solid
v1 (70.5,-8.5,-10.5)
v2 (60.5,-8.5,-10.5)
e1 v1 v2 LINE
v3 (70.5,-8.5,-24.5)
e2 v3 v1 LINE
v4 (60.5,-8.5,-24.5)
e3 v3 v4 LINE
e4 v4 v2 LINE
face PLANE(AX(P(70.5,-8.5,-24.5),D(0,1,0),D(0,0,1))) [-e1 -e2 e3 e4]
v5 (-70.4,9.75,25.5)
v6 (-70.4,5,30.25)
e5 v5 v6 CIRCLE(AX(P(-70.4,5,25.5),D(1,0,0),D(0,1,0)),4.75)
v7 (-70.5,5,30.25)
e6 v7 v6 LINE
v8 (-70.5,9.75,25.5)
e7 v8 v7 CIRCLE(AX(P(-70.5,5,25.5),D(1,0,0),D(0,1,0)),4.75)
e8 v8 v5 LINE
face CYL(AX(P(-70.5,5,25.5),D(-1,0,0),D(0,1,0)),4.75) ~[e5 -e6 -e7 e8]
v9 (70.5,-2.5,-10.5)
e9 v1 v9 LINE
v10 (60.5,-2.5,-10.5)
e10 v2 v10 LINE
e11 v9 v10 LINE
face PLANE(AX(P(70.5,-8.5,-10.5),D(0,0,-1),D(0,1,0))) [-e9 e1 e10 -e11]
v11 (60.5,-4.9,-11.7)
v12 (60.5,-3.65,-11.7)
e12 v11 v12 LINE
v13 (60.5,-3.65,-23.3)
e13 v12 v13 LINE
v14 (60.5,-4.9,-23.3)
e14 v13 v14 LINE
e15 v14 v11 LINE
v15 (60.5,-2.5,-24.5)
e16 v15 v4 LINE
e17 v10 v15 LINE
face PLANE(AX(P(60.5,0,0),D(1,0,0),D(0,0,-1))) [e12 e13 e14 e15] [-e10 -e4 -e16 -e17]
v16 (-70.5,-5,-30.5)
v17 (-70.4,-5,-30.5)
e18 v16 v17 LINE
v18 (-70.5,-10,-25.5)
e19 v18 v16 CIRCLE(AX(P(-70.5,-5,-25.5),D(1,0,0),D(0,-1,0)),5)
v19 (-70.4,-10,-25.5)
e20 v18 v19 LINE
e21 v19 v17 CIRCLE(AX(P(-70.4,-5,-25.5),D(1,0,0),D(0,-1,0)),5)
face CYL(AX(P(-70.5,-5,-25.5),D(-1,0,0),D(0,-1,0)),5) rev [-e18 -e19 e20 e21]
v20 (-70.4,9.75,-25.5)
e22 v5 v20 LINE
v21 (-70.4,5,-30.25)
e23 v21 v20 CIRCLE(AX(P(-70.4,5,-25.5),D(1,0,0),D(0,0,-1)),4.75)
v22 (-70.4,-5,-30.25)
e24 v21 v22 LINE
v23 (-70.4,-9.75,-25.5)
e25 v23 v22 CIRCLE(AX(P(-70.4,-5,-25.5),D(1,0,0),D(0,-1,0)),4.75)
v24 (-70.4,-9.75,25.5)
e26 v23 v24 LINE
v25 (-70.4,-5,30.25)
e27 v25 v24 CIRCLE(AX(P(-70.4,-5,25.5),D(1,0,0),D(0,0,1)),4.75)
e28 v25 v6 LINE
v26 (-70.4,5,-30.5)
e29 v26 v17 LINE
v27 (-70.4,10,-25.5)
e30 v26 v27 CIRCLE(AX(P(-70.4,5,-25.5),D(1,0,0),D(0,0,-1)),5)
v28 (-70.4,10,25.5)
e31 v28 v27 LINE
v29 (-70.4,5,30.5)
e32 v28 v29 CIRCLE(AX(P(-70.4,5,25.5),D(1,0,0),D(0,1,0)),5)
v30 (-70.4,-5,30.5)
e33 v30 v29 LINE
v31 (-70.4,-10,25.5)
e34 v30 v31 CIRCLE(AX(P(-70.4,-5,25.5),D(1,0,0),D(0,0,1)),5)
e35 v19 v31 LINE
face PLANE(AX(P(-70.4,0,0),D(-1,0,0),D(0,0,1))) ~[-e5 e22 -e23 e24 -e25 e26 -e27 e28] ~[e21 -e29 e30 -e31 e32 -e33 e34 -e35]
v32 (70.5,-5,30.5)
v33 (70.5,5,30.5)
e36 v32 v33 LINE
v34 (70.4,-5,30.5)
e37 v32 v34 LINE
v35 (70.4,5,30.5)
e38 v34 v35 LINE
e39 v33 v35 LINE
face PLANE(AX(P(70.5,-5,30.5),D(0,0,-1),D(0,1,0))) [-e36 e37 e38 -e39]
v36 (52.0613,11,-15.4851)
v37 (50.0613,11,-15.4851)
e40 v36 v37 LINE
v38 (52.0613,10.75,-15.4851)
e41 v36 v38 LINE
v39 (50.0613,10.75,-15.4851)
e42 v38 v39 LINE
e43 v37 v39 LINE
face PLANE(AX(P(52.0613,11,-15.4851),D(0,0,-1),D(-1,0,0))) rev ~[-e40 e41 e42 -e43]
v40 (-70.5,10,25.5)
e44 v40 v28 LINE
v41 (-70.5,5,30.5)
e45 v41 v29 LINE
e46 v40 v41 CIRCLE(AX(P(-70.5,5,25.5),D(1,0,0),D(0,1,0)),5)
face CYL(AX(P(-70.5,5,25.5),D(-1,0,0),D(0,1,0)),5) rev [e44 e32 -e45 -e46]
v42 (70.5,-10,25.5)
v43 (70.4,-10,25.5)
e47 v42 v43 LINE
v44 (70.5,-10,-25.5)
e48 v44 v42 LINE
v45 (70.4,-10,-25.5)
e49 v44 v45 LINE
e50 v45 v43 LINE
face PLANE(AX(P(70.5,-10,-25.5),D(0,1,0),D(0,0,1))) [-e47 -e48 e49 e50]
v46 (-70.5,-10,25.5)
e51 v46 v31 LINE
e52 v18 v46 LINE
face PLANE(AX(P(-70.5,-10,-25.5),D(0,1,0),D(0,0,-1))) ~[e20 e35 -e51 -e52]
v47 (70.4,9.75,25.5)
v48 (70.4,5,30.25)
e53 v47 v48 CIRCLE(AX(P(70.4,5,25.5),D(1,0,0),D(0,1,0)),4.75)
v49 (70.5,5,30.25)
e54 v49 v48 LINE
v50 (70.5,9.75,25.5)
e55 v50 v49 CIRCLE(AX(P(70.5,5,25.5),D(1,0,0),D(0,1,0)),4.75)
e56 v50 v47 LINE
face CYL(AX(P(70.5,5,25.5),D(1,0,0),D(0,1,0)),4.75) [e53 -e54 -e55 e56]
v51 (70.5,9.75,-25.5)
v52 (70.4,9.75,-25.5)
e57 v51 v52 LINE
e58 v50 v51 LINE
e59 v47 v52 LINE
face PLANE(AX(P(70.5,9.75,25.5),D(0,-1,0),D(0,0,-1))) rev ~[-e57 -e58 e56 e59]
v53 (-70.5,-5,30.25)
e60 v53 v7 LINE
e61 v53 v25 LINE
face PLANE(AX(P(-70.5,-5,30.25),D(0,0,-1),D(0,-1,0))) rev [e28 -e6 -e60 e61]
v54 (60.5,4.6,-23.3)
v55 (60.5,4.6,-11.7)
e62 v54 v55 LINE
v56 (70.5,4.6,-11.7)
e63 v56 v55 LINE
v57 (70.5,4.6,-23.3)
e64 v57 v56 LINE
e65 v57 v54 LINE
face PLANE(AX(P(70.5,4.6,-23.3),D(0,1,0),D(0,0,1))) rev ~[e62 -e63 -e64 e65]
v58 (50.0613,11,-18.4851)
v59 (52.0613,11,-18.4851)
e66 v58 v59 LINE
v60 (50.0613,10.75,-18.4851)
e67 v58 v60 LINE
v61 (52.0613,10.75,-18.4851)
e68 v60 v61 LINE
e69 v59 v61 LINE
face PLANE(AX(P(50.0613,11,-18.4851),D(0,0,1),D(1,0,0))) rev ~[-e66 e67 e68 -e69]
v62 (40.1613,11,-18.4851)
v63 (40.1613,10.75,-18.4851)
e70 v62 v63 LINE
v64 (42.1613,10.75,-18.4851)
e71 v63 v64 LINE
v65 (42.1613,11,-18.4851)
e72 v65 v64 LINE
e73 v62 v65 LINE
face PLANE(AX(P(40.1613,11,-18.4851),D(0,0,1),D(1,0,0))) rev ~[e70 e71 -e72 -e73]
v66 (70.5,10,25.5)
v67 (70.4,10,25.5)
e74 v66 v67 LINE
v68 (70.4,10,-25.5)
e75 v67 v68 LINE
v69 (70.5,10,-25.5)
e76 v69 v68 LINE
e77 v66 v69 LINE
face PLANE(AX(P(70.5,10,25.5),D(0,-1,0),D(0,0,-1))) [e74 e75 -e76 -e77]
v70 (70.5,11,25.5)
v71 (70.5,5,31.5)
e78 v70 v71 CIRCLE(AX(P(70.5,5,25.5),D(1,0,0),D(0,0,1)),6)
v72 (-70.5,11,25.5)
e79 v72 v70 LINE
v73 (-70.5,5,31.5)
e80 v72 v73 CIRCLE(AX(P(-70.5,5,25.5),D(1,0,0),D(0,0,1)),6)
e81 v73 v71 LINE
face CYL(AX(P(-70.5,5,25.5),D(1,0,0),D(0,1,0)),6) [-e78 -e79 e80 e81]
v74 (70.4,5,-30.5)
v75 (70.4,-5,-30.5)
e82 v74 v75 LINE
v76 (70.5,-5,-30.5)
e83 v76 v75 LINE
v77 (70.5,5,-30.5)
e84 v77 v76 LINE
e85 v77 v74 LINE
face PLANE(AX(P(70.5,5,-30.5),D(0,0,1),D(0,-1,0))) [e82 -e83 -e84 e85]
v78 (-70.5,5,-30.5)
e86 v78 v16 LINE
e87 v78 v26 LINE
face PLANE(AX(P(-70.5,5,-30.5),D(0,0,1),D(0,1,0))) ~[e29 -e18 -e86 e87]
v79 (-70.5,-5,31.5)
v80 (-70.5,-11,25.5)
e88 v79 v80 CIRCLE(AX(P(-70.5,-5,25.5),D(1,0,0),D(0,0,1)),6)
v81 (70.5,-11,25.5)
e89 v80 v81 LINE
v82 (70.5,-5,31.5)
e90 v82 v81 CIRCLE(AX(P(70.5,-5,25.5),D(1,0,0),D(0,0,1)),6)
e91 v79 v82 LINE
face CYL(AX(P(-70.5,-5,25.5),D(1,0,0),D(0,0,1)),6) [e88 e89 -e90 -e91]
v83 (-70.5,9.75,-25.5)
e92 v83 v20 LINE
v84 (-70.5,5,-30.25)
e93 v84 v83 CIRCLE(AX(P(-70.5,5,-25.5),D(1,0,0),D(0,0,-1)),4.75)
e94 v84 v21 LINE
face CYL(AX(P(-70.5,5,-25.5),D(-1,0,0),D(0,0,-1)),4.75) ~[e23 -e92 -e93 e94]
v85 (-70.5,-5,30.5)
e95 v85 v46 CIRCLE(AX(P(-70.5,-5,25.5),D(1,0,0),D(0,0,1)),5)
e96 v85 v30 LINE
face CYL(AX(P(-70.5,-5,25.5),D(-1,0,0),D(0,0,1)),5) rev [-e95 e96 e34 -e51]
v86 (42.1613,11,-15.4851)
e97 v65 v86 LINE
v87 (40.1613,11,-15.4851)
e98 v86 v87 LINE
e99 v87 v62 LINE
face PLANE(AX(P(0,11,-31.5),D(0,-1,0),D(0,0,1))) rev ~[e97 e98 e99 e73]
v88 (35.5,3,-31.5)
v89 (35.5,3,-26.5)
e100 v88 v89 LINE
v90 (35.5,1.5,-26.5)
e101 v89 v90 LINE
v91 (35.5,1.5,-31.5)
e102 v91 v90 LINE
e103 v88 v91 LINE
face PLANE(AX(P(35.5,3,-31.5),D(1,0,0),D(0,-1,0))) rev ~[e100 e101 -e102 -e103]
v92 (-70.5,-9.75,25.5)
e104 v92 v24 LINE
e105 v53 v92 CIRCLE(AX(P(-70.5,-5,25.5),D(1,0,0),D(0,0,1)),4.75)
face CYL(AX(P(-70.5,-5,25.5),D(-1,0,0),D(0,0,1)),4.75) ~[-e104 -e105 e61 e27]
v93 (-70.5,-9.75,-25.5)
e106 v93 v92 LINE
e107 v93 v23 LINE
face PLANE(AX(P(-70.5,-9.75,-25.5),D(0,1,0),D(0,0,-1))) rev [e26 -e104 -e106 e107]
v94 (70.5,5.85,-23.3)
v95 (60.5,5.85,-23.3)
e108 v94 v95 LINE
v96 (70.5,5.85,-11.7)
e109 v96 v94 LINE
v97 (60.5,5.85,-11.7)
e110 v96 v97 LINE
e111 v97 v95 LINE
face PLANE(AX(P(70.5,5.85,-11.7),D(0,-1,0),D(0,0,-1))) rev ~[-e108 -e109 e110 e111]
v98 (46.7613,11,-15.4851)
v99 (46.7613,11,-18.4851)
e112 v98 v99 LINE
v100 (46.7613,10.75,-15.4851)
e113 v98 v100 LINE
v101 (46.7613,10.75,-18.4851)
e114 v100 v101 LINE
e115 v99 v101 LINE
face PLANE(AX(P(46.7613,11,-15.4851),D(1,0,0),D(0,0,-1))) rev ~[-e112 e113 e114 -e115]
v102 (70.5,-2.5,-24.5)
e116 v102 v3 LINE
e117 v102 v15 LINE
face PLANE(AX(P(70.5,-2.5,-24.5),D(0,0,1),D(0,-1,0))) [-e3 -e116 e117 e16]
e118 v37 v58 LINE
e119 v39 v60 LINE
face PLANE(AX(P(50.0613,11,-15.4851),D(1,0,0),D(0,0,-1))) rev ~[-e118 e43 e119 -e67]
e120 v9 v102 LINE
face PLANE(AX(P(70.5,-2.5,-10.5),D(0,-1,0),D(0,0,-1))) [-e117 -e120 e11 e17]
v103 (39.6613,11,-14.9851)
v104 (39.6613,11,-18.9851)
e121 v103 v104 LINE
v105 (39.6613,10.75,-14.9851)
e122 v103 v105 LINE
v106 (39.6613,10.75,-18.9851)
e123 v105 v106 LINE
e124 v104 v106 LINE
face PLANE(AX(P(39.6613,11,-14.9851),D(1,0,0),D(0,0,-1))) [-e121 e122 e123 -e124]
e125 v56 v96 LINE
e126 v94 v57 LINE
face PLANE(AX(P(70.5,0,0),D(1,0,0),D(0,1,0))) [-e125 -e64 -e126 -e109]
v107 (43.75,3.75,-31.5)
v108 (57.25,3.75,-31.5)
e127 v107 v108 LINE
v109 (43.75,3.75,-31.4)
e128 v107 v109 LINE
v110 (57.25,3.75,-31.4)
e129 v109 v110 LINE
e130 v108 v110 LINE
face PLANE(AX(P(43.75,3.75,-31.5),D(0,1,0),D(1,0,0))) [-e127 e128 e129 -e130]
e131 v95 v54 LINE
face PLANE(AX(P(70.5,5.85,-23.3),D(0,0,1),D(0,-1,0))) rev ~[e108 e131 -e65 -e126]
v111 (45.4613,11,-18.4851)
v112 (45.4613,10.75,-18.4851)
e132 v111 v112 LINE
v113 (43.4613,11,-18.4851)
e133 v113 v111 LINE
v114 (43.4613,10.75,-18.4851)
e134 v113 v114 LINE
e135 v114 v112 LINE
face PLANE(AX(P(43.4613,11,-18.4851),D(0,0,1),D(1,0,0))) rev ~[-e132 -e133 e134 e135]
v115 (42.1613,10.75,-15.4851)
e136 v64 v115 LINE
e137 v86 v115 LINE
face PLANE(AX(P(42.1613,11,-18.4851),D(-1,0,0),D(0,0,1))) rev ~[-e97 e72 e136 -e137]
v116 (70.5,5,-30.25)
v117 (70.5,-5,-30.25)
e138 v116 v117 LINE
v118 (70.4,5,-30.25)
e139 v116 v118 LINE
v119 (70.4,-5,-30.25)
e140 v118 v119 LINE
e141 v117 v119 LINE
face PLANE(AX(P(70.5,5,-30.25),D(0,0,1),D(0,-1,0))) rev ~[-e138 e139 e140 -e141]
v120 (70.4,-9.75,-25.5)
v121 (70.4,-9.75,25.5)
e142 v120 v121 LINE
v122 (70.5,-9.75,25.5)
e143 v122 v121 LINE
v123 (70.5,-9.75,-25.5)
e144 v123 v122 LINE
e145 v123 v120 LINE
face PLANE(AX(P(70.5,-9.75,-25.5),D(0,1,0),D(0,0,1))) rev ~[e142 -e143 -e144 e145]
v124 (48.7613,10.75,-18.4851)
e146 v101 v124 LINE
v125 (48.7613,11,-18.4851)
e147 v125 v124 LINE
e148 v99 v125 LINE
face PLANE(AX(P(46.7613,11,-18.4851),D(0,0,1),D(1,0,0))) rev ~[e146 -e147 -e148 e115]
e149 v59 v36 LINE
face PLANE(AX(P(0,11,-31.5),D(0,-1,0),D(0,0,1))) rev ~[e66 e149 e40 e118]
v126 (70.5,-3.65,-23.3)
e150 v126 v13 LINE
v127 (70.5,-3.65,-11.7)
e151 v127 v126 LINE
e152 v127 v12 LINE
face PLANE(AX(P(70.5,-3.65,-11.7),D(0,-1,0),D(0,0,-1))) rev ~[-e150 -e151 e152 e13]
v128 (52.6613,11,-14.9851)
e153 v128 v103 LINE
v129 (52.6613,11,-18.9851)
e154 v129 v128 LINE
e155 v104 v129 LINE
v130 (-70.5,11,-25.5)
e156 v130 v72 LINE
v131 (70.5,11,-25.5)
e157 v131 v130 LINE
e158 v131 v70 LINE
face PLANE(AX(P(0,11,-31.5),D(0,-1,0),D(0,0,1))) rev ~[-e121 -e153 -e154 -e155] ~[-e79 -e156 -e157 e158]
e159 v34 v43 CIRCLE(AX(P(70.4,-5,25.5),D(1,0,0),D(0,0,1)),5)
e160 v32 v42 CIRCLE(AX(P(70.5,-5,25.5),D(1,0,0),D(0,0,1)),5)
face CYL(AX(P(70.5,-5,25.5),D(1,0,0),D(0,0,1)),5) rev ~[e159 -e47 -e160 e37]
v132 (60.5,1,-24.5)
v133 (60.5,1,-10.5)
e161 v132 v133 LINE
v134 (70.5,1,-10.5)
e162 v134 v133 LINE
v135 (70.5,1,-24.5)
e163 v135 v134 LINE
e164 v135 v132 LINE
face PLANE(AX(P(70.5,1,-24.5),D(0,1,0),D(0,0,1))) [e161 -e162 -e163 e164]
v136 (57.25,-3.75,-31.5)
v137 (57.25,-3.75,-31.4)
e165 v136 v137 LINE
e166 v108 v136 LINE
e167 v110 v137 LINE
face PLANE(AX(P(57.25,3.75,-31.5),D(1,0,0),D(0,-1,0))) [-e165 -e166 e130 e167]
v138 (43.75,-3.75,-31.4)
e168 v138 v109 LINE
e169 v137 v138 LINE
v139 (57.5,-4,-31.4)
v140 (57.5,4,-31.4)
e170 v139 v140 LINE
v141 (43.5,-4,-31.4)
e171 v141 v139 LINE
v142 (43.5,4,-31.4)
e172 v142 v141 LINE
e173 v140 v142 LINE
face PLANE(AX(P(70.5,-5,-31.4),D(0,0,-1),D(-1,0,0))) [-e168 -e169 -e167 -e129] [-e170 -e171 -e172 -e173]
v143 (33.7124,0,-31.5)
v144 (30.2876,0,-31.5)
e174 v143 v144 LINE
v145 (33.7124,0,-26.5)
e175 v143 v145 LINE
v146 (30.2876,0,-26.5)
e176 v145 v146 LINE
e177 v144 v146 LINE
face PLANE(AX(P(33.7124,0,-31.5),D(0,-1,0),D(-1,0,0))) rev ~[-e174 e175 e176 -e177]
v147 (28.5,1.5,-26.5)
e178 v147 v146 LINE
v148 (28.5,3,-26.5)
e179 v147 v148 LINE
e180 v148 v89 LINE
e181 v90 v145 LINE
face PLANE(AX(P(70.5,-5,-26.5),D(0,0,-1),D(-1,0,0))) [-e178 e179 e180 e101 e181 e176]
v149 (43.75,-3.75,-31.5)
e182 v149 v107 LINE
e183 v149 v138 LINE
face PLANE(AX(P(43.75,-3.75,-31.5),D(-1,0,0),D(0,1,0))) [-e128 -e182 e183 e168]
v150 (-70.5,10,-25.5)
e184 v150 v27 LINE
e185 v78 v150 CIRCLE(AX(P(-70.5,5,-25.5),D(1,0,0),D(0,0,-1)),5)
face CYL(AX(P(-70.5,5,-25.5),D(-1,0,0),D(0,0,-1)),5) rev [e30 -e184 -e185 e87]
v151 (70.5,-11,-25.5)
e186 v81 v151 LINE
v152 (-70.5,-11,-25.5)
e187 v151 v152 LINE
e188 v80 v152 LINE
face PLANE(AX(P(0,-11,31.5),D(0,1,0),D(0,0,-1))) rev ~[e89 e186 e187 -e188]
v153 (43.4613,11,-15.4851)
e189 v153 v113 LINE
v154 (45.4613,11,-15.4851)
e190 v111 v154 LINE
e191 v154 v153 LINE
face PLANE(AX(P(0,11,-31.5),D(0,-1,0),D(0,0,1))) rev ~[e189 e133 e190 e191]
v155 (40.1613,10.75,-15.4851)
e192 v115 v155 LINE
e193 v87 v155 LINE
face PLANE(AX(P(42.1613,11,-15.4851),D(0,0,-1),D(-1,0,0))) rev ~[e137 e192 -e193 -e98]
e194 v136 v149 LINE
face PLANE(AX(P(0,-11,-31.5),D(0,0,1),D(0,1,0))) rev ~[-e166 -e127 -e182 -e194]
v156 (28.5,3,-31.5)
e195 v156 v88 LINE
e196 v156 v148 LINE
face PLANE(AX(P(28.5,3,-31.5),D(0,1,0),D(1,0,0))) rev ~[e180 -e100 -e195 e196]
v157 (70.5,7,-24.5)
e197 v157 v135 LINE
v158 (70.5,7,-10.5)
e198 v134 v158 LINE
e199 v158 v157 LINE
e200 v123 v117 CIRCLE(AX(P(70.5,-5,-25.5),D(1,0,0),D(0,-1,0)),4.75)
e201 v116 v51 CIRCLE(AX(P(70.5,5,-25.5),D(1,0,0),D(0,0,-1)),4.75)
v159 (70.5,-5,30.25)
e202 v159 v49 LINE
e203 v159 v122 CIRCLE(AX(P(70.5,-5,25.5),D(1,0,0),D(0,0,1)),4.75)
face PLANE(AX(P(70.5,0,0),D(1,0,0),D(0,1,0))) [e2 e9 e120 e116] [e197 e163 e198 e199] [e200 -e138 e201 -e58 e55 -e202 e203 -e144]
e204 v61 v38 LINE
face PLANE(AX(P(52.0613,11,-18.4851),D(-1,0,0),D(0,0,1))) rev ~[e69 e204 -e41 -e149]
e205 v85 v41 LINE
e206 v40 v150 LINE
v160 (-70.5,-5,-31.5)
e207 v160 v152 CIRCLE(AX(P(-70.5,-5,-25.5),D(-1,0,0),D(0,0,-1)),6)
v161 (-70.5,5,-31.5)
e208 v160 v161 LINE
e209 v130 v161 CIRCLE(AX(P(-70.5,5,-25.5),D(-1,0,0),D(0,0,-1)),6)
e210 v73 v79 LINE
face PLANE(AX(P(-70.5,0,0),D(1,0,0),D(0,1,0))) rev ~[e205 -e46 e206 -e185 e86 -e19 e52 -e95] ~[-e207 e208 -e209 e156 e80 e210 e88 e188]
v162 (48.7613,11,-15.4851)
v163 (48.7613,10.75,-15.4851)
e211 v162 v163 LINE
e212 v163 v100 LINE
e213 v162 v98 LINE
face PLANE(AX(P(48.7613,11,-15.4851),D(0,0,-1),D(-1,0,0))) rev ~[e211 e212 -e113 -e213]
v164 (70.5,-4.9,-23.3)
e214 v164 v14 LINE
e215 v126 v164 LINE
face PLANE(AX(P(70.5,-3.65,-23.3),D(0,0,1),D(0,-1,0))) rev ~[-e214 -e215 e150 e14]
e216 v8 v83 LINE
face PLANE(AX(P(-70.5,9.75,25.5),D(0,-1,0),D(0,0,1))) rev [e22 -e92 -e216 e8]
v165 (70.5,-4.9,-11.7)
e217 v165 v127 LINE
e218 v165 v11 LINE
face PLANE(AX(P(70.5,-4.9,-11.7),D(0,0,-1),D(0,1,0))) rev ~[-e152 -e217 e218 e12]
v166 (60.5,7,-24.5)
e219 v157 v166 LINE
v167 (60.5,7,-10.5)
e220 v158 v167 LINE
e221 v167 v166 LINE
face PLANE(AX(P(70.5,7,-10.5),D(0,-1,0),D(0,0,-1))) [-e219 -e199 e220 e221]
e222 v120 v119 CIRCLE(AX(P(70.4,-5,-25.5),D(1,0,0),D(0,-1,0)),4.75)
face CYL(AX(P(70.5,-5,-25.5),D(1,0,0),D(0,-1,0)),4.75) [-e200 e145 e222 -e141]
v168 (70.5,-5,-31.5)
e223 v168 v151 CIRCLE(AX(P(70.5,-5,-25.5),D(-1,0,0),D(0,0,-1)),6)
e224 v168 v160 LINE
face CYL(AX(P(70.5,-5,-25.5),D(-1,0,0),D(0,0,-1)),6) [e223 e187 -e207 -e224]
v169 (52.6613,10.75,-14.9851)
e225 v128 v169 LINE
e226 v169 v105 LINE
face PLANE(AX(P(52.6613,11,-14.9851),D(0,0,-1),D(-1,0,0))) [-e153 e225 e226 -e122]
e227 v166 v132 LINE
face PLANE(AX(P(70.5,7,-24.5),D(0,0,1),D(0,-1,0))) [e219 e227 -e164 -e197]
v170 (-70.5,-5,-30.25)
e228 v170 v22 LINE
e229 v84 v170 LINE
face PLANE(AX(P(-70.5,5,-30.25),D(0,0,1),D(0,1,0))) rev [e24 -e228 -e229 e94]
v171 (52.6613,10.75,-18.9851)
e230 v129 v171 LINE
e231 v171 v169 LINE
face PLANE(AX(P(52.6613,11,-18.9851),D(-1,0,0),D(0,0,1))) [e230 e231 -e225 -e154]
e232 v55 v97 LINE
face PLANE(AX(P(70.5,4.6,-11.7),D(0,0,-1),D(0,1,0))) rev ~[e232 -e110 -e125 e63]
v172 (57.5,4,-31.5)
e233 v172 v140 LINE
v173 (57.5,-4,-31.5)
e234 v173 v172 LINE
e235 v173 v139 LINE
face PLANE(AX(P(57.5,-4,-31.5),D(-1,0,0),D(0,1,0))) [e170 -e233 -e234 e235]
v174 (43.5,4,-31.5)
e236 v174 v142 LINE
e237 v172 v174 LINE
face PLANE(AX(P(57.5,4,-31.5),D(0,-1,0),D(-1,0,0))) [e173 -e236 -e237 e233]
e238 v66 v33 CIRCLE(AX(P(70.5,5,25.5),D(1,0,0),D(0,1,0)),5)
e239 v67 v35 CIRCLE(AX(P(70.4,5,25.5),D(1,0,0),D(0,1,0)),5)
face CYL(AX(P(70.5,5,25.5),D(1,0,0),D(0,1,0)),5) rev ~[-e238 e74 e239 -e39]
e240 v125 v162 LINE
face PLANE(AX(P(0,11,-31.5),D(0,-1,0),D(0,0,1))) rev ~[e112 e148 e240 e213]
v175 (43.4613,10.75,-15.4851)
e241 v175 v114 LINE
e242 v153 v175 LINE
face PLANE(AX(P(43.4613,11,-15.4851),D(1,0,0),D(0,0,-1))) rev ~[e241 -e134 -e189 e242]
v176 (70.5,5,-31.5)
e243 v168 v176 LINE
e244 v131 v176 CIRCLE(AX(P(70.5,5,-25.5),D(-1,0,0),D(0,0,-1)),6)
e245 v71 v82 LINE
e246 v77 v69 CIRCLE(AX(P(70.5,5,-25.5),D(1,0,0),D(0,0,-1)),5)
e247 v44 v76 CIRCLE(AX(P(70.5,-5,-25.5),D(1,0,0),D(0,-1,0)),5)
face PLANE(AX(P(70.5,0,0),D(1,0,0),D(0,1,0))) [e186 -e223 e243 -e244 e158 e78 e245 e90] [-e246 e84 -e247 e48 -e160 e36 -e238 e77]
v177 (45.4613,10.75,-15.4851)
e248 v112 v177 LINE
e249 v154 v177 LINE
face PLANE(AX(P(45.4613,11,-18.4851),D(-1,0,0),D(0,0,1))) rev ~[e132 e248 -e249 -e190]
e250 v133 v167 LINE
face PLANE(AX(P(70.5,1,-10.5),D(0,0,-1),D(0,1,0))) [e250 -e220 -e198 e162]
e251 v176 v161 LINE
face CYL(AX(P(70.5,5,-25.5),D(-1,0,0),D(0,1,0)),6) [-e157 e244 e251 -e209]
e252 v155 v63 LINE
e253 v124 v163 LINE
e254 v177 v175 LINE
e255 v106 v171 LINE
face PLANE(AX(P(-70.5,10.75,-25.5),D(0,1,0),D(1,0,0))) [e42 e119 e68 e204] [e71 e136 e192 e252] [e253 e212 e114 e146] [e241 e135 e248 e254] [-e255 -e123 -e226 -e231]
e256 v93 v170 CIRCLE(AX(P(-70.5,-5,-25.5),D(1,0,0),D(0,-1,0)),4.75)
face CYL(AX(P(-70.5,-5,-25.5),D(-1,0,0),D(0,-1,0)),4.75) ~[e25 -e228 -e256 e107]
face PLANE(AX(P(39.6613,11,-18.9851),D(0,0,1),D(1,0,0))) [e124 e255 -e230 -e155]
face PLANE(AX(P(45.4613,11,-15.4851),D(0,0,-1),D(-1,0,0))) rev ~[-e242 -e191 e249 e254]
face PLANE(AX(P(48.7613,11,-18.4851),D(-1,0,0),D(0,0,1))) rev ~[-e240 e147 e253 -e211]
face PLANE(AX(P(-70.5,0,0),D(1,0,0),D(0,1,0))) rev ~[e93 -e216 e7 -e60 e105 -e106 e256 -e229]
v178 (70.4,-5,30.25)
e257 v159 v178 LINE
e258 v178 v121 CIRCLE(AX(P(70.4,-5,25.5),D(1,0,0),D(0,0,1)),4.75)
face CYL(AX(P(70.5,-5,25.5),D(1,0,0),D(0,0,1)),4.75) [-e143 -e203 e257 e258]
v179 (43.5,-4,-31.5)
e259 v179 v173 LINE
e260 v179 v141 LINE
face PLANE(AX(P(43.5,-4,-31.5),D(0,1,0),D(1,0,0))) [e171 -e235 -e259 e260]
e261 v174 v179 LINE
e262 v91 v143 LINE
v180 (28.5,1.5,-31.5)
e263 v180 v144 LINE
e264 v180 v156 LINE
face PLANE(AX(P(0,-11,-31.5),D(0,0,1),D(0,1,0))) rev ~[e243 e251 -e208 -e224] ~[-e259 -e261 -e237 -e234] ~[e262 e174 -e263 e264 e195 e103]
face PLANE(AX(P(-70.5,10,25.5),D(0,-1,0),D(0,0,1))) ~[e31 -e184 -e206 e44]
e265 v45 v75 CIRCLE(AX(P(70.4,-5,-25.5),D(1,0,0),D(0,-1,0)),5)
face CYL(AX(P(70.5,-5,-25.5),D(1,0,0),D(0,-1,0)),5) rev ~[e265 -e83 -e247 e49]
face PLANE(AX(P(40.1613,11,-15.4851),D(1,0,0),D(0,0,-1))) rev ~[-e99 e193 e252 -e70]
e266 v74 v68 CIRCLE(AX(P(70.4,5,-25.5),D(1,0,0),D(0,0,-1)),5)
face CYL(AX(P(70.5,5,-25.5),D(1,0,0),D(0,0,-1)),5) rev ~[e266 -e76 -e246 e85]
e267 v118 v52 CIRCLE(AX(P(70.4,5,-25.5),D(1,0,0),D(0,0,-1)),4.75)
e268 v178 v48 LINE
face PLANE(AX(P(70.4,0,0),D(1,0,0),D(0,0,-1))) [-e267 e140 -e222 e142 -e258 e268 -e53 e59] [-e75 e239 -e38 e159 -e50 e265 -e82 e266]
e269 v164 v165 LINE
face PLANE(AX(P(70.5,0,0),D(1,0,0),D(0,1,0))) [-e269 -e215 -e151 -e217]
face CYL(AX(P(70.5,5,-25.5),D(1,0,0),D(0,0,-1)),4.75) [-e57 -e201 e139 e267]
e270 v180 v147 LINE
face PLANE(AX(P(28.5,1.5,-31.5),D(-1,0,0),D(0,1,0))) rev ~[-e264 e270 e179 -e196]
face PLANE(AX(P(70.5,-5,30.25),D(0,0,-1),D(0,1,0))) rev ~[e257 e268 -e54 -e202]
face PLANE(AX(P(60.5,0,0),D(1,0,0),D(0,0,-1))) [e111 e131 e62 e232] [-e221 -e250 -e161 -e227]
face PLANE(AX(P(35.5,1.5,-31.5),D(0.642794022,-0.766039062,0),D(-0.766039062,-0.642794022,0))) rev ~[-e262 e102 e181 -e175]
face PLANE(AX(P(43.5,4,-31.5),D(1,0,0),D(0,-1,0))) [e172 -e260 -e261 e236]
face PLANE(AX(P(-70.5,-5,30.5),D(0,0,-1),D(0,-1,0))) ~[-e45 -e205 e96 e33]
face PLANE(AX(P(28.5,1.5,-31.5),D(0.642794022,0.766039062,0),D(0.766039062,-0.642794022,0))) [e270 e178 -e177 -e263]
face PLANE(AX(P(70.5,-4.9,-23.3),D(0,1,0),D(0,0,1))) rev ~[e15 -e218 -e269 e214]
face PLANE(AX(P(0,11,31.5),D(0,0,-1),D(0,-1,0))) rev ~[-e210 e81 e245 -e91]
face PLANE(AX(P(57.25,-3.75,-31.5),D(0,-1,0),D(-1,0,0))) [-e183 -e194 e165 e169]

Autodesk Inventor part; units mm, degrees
ref_plane "YZ Plane" through (0, 0, 0) normal (1, 0, 0) x (0, 1, 0)
ref_plane "XZ Plane" through (0, 0, 0) normal (0, 1, 0) x (-1, 0, 0)
ref_plane "XY Plane" through (0, 0, 0) normal (0, 0, 1) x (1, 0, 0)
sketch "Sketch1" plane through (0, 0, 0) normal (1, 0, 0) x (0, 1, 0)
  line L0 (11, 31.5) -> (-11, 31.5)
  line L1 (-11, 31.5) -> (-11, -31.5)
  line L2 (-11, -31.5) -> (11, -31.5)
  line L3 (11, -31.5) -> (11, 31.5)
  line L4 (11, 31.5) -> (-11, -31.5) construction
  line L5 (-11, 31.5) -> (11, -31.5) construction
  point P0 (0, 0)
  dimension "d0" = 22
  dimension "d1" = 63
extrude "Extrusion1" add sketch "Sketch1" along normal mid plane 141
fillet "Fillet1" radius 6 4 edges at (0, 11, 31.5) (0, 11, -31.5) (0, -11, 31.5) (0, -11, -31.5)
sketch "Sketch2" plane through (70.5, 0, 0) normal (1, 0, 0) x (0, 0, -1)
  line L0 (10.5, 7) -> (24.5, 7)
  line L1 (24.5, 7) -> (24.5, 1)
  line L2 (24.5, 1) -> (10.5, 1)
  line L3 (10.5, 1) -> (10.5, 7)
  line L4 (31.5, -5) -> (31.5, 5) projected
  line L5 (25.5, 11) -> (-25.5, 11) projected
  line L6 (11.7, 5.85) -> (23.3, 5.85)
  line L7 (23.3, 5.85) -> (23.3, 4.6)
  line L8 (23.3, 4.6) -> (11.7, 4.6)
  line L9 (11.7, 4.6) -> (11.7, 5.85)
  line L10 (10.5, -2.5) -> (24.5, -2.5)
  line L11 (24.5, -2.5) -> (24.5, -8.5)
  line L12 (24.5, -8.5) -> (10.5, -8.5)
  line L13 (10.5, -8.5) -> (10.5, -2.5)
  line L14 (11.7, -3.65) -> (23.3, -3.65)
  line L15 (23.3, -3.65) -> (23.3, -4.9)
  line L16 (23.3, -4.9) -> (11.7, -4.9)
  line L17 (11.7, -4.9) -> (11.7, -3.65)
  point P0 (0, 0)
  dimension "d5" = 14
  dimension "d6" = 6
  dimension "d7" = 7
  dimension "d8" = 4
  dimension "d12" = 1.2
  dimension "d13" = 1.2
  dimension "d14" = 1.15
  dimension "d15" = 3.6
  dimension "d16" = 14
  dimension "d17" = 6
  dimension "d18" = 1.2
  dimension "d19" = 1.2
  dimension "d20" = 1.15
  dimension "d21" = 3.6
  dimension "d22" = 3.5
extrude "Extrusion2" cut sketch "Sketch2" against normal blind 10
sketch "Sketch3" plane through (-70.5, 11, -25.5) normal (0, 1, 0) x (1, 0, 0)
  line L0 (110.1613, -6.5149) -> (123.1613, -6.5149)
  line L1 (123.1613, -6.5149) -> (123.1613, -10.5149)
  line L2 (123.1613, -10.5149) -> (110.1613, -10.5149)
  line L3 (110.1613, -10.5149) -> (110.1613, -6.5149)
  line L4 (110.6613, -7.0149) -> (112.6613, -7.0149)
  line L5 (112.6613, -7.0149) -> (112.6613, -10.0149)
  line L6 (112.6613, -10.0149) -> (110.6613, -10.0149)
  line L7 (110.6613, -10.0149) -> (110.6613, -7.0149)
  line L8 (115.9613, -10.0149) -> (113.9613, -10.0149)
  line L9 (113.9613, -10.0149) -> (113.9613, -7.0149)
  line L10 (113.9613, -7.0149) -> (115.9613, -7.0149)
  line L11 (115.9613, -7.0149) -> (115.9613, -10.0149)
  line L12 (119.2613, -10.0149) -> (117.2613, -10.0149)
  line L13 (117.2613, -10.0149) -> (117.2613, -7.0149)
  line L14 (117.2613, -7.0149) -> (119.2613, -7.0149)
  line L15 (119.2613, -7.0149) -> (119.2613, -10.0149)
  line L16 (122.5613, -10.0149) -> (120.5613, -10.0149)
  line L17 (120.5613, -10.0149) -> (120.5613, -7.0149)
  line L18 (120.5613, -7.0149) -> (122.5613, -7.0149)
  line L19 (122.5613, -7.0149) -> (122.5613, -10.0149)
  point P0 (70.5, -25.5)
  dimension "d25" = 13
  dimension "d26" = 4
  dimension "d27" = 2
  dimension "d28" = 3
  dimension "d29" = 0.5
  dimension "d30" = 0.5
  dimension "d33" = 3.3
extrude "Extrusion3" cut sketch "Sketch3" against normal blind 0.25
sketch "Sketch4" plane through (70.5, -5, -31.5) normal (0, 0, -1) x (-1, 0, 0)
  line L0 (141, 10) -> (0, 10) construction
  line L1 (0, 0) -> (0, 10) construction
  line L2 (35, 5) -> (42, 5)
  line L3 (42, 5) -> (42, 8)
  line L4 (42, 8) -> (35, 8)
  line L5 (35, 8) -> (35, 5)
  line L6 (38.5, 5) -> (38.5, 8) construction
  line L7 (35, 6.5) -> (36.7876, 5)
  line L8 (35, 6.5) -> (37.3336, 6.5) construction
  line L9 (42, 6.5) -> (40.2124, 5)
  line L10 (42, 6.5) -> (42, 5)
  line L11 (40.2124, 5) -> (42, 5)
  point P0 (70.5, 5)
  dimension "d42" = 3
  dimension "d43" = 35
  dimension "d44" = 7
  dimension "d45" = 2
  dimension "d46" = 40
extrude "Extrusion4" cut sketch "Sketch4" against normal blind 5 contours L7 L5 L4 L3 L9 L2
sketch "Sketch5" plane through (70.5, -5, -31.5) normal (0, 0, -1) x (-1, 0, 0)
  line L0 (0, 0) -> (0, 10) construction
  line L1 (0, 5) -> (141, 5) construction
  line L2 (141, 10) -> (141, 0) construction
  line L3 (13, 9) -> (27, 9)
  line L4 (27, 9) -> (27, 1)
  line L5 (27, 1) -> (13, 1)
  line L6 (13, 1) -> (13, 9)
  line L7 (13, 9) -> (27, 1) construction
  line L8 (27, 9) -> (13, 1) construction
  line L9 (26.75, 8.75) -> (13.25, 8.75)
  line L10 (13.25, 8.75) -> (13.25, 1.25)
  line L11 (13.25, 1.25) -> (26.75, 1.25)
  line L12 (26.75, 1.25) -> (26.75, 8.75)
  line L13 (35, 6.5) -> (35, 8) projected
  point P0 (70.5, 5)
  point P1 (20, 5)
  dimension "d49" = 14
  dimension "d50" = 8
  dimension "d51" = 0.25
  dimension "d52" = 8
extrude "Extrusion5" cut sketch "Sketch5" against normal blind 0.1
sketch "Sketch6" plane through (70.5, 0, 0) normal (1, 0, 0) x (0, 0, -1)
  line L0 (10.5, 1) -> (10.5, 7) projected
  line L1 (10.5, 7) -> (24.5, 7) projected
  line L2 (24.5, 7) -> (24.5, 1) projected
  line L3 (24.5, 1) -> (10.5, 1) projected
  line L4 (10.5, -8.5) -> (10.5, -2.5) projected
  line L5 (10.5, -2.5) -> (24.5, -2.5) projected
  line L6 (24.5, -2.5) -> (24.5, -8.5) projected
  line L7 (24.5, -8.5) -> (10.5, -8.5) projected
  arc A0 (25.5, -11) -> (31.5, -5) centre (25.5, -5) ccw projected
  line L8 (31.5, -5) -> (31.5, 5) projected
  arc A1 (31.5, 5) -> (25.5, 11) centre (25.5, 5) ccw projected
  line L9 (25.5, 11) -> (-25.5, 11) projected
  arc A2 (-25.5, 11) -> (-31.5, 5) centre (-25.5, 5) ccw projected
  line L10 (-31.5, 5) -> (-31.5, -5) projected
  arc A3 (-31.5, -5) -> (-25.5, -11) centre (-25.5, -5) ccw projected
  line L11 (-25.5, -11) -> (25.5, -11) projected
  line L12 (-25.5, 10) -> (25.5, 10)
  arc A4 (30.5, 5) -> (25.5, 10) centre (25.5, 5) ccw
  line L13 (30.5, 5) -> (30.5, -5)
  arc A5 (25.5, -10) -> (30.5, -5) centre (25.5, -5) ccw
  line L14 (25.5, -10) -> (-25.5, -10)
  arc A6 (-30.5, -5) -> (-25.5, -10) centre (-25.5, -5) ccw
  line L15 (-30.5, -5) -> (-30.5, 5)
  arc A7 (-25.5, 10) -> (-30.5, 5) centre (-25.5, 5) ccw
  line L16 (-25.5, 9.75) -> (25.5, 9.75)
  arc A8 (30.25, 5) -> (25.5, 9.75) centre (25.5, 5) ccw
  line L17 (30.25, 5) -> (30.25, -5)
  arc A9 (25.5, -9.75) -> (30.25, -5) centre (25.5, -5) ccw
  line L18 (25.5, -9.75) -> (-25.5, -9.75)
  arc A10 (-30.25, -5) -> (-25.5, -9.75) centre (-25.5, -5) ccw
  line L19 (-30.25, -5) -> (-30.25, 5)
  arc A11 (-25.5, 9.75) -> (-30.25, 5) centre (-25.5, 5) ccw
  point P0 (0, 0)
  dimension "d55" = 1
  dimension "d56" = 1.25
extrude "Extrusion6" cut sketch "Sketch6" against normal blind 0.1 contours L12 A4 L13 A5 L14 A6 L15 A7
mirror "Mirror1" about plane through (0, 0, 0) normal (1, 0, 0) of "Extrusion6"
properties part number "Battery"
